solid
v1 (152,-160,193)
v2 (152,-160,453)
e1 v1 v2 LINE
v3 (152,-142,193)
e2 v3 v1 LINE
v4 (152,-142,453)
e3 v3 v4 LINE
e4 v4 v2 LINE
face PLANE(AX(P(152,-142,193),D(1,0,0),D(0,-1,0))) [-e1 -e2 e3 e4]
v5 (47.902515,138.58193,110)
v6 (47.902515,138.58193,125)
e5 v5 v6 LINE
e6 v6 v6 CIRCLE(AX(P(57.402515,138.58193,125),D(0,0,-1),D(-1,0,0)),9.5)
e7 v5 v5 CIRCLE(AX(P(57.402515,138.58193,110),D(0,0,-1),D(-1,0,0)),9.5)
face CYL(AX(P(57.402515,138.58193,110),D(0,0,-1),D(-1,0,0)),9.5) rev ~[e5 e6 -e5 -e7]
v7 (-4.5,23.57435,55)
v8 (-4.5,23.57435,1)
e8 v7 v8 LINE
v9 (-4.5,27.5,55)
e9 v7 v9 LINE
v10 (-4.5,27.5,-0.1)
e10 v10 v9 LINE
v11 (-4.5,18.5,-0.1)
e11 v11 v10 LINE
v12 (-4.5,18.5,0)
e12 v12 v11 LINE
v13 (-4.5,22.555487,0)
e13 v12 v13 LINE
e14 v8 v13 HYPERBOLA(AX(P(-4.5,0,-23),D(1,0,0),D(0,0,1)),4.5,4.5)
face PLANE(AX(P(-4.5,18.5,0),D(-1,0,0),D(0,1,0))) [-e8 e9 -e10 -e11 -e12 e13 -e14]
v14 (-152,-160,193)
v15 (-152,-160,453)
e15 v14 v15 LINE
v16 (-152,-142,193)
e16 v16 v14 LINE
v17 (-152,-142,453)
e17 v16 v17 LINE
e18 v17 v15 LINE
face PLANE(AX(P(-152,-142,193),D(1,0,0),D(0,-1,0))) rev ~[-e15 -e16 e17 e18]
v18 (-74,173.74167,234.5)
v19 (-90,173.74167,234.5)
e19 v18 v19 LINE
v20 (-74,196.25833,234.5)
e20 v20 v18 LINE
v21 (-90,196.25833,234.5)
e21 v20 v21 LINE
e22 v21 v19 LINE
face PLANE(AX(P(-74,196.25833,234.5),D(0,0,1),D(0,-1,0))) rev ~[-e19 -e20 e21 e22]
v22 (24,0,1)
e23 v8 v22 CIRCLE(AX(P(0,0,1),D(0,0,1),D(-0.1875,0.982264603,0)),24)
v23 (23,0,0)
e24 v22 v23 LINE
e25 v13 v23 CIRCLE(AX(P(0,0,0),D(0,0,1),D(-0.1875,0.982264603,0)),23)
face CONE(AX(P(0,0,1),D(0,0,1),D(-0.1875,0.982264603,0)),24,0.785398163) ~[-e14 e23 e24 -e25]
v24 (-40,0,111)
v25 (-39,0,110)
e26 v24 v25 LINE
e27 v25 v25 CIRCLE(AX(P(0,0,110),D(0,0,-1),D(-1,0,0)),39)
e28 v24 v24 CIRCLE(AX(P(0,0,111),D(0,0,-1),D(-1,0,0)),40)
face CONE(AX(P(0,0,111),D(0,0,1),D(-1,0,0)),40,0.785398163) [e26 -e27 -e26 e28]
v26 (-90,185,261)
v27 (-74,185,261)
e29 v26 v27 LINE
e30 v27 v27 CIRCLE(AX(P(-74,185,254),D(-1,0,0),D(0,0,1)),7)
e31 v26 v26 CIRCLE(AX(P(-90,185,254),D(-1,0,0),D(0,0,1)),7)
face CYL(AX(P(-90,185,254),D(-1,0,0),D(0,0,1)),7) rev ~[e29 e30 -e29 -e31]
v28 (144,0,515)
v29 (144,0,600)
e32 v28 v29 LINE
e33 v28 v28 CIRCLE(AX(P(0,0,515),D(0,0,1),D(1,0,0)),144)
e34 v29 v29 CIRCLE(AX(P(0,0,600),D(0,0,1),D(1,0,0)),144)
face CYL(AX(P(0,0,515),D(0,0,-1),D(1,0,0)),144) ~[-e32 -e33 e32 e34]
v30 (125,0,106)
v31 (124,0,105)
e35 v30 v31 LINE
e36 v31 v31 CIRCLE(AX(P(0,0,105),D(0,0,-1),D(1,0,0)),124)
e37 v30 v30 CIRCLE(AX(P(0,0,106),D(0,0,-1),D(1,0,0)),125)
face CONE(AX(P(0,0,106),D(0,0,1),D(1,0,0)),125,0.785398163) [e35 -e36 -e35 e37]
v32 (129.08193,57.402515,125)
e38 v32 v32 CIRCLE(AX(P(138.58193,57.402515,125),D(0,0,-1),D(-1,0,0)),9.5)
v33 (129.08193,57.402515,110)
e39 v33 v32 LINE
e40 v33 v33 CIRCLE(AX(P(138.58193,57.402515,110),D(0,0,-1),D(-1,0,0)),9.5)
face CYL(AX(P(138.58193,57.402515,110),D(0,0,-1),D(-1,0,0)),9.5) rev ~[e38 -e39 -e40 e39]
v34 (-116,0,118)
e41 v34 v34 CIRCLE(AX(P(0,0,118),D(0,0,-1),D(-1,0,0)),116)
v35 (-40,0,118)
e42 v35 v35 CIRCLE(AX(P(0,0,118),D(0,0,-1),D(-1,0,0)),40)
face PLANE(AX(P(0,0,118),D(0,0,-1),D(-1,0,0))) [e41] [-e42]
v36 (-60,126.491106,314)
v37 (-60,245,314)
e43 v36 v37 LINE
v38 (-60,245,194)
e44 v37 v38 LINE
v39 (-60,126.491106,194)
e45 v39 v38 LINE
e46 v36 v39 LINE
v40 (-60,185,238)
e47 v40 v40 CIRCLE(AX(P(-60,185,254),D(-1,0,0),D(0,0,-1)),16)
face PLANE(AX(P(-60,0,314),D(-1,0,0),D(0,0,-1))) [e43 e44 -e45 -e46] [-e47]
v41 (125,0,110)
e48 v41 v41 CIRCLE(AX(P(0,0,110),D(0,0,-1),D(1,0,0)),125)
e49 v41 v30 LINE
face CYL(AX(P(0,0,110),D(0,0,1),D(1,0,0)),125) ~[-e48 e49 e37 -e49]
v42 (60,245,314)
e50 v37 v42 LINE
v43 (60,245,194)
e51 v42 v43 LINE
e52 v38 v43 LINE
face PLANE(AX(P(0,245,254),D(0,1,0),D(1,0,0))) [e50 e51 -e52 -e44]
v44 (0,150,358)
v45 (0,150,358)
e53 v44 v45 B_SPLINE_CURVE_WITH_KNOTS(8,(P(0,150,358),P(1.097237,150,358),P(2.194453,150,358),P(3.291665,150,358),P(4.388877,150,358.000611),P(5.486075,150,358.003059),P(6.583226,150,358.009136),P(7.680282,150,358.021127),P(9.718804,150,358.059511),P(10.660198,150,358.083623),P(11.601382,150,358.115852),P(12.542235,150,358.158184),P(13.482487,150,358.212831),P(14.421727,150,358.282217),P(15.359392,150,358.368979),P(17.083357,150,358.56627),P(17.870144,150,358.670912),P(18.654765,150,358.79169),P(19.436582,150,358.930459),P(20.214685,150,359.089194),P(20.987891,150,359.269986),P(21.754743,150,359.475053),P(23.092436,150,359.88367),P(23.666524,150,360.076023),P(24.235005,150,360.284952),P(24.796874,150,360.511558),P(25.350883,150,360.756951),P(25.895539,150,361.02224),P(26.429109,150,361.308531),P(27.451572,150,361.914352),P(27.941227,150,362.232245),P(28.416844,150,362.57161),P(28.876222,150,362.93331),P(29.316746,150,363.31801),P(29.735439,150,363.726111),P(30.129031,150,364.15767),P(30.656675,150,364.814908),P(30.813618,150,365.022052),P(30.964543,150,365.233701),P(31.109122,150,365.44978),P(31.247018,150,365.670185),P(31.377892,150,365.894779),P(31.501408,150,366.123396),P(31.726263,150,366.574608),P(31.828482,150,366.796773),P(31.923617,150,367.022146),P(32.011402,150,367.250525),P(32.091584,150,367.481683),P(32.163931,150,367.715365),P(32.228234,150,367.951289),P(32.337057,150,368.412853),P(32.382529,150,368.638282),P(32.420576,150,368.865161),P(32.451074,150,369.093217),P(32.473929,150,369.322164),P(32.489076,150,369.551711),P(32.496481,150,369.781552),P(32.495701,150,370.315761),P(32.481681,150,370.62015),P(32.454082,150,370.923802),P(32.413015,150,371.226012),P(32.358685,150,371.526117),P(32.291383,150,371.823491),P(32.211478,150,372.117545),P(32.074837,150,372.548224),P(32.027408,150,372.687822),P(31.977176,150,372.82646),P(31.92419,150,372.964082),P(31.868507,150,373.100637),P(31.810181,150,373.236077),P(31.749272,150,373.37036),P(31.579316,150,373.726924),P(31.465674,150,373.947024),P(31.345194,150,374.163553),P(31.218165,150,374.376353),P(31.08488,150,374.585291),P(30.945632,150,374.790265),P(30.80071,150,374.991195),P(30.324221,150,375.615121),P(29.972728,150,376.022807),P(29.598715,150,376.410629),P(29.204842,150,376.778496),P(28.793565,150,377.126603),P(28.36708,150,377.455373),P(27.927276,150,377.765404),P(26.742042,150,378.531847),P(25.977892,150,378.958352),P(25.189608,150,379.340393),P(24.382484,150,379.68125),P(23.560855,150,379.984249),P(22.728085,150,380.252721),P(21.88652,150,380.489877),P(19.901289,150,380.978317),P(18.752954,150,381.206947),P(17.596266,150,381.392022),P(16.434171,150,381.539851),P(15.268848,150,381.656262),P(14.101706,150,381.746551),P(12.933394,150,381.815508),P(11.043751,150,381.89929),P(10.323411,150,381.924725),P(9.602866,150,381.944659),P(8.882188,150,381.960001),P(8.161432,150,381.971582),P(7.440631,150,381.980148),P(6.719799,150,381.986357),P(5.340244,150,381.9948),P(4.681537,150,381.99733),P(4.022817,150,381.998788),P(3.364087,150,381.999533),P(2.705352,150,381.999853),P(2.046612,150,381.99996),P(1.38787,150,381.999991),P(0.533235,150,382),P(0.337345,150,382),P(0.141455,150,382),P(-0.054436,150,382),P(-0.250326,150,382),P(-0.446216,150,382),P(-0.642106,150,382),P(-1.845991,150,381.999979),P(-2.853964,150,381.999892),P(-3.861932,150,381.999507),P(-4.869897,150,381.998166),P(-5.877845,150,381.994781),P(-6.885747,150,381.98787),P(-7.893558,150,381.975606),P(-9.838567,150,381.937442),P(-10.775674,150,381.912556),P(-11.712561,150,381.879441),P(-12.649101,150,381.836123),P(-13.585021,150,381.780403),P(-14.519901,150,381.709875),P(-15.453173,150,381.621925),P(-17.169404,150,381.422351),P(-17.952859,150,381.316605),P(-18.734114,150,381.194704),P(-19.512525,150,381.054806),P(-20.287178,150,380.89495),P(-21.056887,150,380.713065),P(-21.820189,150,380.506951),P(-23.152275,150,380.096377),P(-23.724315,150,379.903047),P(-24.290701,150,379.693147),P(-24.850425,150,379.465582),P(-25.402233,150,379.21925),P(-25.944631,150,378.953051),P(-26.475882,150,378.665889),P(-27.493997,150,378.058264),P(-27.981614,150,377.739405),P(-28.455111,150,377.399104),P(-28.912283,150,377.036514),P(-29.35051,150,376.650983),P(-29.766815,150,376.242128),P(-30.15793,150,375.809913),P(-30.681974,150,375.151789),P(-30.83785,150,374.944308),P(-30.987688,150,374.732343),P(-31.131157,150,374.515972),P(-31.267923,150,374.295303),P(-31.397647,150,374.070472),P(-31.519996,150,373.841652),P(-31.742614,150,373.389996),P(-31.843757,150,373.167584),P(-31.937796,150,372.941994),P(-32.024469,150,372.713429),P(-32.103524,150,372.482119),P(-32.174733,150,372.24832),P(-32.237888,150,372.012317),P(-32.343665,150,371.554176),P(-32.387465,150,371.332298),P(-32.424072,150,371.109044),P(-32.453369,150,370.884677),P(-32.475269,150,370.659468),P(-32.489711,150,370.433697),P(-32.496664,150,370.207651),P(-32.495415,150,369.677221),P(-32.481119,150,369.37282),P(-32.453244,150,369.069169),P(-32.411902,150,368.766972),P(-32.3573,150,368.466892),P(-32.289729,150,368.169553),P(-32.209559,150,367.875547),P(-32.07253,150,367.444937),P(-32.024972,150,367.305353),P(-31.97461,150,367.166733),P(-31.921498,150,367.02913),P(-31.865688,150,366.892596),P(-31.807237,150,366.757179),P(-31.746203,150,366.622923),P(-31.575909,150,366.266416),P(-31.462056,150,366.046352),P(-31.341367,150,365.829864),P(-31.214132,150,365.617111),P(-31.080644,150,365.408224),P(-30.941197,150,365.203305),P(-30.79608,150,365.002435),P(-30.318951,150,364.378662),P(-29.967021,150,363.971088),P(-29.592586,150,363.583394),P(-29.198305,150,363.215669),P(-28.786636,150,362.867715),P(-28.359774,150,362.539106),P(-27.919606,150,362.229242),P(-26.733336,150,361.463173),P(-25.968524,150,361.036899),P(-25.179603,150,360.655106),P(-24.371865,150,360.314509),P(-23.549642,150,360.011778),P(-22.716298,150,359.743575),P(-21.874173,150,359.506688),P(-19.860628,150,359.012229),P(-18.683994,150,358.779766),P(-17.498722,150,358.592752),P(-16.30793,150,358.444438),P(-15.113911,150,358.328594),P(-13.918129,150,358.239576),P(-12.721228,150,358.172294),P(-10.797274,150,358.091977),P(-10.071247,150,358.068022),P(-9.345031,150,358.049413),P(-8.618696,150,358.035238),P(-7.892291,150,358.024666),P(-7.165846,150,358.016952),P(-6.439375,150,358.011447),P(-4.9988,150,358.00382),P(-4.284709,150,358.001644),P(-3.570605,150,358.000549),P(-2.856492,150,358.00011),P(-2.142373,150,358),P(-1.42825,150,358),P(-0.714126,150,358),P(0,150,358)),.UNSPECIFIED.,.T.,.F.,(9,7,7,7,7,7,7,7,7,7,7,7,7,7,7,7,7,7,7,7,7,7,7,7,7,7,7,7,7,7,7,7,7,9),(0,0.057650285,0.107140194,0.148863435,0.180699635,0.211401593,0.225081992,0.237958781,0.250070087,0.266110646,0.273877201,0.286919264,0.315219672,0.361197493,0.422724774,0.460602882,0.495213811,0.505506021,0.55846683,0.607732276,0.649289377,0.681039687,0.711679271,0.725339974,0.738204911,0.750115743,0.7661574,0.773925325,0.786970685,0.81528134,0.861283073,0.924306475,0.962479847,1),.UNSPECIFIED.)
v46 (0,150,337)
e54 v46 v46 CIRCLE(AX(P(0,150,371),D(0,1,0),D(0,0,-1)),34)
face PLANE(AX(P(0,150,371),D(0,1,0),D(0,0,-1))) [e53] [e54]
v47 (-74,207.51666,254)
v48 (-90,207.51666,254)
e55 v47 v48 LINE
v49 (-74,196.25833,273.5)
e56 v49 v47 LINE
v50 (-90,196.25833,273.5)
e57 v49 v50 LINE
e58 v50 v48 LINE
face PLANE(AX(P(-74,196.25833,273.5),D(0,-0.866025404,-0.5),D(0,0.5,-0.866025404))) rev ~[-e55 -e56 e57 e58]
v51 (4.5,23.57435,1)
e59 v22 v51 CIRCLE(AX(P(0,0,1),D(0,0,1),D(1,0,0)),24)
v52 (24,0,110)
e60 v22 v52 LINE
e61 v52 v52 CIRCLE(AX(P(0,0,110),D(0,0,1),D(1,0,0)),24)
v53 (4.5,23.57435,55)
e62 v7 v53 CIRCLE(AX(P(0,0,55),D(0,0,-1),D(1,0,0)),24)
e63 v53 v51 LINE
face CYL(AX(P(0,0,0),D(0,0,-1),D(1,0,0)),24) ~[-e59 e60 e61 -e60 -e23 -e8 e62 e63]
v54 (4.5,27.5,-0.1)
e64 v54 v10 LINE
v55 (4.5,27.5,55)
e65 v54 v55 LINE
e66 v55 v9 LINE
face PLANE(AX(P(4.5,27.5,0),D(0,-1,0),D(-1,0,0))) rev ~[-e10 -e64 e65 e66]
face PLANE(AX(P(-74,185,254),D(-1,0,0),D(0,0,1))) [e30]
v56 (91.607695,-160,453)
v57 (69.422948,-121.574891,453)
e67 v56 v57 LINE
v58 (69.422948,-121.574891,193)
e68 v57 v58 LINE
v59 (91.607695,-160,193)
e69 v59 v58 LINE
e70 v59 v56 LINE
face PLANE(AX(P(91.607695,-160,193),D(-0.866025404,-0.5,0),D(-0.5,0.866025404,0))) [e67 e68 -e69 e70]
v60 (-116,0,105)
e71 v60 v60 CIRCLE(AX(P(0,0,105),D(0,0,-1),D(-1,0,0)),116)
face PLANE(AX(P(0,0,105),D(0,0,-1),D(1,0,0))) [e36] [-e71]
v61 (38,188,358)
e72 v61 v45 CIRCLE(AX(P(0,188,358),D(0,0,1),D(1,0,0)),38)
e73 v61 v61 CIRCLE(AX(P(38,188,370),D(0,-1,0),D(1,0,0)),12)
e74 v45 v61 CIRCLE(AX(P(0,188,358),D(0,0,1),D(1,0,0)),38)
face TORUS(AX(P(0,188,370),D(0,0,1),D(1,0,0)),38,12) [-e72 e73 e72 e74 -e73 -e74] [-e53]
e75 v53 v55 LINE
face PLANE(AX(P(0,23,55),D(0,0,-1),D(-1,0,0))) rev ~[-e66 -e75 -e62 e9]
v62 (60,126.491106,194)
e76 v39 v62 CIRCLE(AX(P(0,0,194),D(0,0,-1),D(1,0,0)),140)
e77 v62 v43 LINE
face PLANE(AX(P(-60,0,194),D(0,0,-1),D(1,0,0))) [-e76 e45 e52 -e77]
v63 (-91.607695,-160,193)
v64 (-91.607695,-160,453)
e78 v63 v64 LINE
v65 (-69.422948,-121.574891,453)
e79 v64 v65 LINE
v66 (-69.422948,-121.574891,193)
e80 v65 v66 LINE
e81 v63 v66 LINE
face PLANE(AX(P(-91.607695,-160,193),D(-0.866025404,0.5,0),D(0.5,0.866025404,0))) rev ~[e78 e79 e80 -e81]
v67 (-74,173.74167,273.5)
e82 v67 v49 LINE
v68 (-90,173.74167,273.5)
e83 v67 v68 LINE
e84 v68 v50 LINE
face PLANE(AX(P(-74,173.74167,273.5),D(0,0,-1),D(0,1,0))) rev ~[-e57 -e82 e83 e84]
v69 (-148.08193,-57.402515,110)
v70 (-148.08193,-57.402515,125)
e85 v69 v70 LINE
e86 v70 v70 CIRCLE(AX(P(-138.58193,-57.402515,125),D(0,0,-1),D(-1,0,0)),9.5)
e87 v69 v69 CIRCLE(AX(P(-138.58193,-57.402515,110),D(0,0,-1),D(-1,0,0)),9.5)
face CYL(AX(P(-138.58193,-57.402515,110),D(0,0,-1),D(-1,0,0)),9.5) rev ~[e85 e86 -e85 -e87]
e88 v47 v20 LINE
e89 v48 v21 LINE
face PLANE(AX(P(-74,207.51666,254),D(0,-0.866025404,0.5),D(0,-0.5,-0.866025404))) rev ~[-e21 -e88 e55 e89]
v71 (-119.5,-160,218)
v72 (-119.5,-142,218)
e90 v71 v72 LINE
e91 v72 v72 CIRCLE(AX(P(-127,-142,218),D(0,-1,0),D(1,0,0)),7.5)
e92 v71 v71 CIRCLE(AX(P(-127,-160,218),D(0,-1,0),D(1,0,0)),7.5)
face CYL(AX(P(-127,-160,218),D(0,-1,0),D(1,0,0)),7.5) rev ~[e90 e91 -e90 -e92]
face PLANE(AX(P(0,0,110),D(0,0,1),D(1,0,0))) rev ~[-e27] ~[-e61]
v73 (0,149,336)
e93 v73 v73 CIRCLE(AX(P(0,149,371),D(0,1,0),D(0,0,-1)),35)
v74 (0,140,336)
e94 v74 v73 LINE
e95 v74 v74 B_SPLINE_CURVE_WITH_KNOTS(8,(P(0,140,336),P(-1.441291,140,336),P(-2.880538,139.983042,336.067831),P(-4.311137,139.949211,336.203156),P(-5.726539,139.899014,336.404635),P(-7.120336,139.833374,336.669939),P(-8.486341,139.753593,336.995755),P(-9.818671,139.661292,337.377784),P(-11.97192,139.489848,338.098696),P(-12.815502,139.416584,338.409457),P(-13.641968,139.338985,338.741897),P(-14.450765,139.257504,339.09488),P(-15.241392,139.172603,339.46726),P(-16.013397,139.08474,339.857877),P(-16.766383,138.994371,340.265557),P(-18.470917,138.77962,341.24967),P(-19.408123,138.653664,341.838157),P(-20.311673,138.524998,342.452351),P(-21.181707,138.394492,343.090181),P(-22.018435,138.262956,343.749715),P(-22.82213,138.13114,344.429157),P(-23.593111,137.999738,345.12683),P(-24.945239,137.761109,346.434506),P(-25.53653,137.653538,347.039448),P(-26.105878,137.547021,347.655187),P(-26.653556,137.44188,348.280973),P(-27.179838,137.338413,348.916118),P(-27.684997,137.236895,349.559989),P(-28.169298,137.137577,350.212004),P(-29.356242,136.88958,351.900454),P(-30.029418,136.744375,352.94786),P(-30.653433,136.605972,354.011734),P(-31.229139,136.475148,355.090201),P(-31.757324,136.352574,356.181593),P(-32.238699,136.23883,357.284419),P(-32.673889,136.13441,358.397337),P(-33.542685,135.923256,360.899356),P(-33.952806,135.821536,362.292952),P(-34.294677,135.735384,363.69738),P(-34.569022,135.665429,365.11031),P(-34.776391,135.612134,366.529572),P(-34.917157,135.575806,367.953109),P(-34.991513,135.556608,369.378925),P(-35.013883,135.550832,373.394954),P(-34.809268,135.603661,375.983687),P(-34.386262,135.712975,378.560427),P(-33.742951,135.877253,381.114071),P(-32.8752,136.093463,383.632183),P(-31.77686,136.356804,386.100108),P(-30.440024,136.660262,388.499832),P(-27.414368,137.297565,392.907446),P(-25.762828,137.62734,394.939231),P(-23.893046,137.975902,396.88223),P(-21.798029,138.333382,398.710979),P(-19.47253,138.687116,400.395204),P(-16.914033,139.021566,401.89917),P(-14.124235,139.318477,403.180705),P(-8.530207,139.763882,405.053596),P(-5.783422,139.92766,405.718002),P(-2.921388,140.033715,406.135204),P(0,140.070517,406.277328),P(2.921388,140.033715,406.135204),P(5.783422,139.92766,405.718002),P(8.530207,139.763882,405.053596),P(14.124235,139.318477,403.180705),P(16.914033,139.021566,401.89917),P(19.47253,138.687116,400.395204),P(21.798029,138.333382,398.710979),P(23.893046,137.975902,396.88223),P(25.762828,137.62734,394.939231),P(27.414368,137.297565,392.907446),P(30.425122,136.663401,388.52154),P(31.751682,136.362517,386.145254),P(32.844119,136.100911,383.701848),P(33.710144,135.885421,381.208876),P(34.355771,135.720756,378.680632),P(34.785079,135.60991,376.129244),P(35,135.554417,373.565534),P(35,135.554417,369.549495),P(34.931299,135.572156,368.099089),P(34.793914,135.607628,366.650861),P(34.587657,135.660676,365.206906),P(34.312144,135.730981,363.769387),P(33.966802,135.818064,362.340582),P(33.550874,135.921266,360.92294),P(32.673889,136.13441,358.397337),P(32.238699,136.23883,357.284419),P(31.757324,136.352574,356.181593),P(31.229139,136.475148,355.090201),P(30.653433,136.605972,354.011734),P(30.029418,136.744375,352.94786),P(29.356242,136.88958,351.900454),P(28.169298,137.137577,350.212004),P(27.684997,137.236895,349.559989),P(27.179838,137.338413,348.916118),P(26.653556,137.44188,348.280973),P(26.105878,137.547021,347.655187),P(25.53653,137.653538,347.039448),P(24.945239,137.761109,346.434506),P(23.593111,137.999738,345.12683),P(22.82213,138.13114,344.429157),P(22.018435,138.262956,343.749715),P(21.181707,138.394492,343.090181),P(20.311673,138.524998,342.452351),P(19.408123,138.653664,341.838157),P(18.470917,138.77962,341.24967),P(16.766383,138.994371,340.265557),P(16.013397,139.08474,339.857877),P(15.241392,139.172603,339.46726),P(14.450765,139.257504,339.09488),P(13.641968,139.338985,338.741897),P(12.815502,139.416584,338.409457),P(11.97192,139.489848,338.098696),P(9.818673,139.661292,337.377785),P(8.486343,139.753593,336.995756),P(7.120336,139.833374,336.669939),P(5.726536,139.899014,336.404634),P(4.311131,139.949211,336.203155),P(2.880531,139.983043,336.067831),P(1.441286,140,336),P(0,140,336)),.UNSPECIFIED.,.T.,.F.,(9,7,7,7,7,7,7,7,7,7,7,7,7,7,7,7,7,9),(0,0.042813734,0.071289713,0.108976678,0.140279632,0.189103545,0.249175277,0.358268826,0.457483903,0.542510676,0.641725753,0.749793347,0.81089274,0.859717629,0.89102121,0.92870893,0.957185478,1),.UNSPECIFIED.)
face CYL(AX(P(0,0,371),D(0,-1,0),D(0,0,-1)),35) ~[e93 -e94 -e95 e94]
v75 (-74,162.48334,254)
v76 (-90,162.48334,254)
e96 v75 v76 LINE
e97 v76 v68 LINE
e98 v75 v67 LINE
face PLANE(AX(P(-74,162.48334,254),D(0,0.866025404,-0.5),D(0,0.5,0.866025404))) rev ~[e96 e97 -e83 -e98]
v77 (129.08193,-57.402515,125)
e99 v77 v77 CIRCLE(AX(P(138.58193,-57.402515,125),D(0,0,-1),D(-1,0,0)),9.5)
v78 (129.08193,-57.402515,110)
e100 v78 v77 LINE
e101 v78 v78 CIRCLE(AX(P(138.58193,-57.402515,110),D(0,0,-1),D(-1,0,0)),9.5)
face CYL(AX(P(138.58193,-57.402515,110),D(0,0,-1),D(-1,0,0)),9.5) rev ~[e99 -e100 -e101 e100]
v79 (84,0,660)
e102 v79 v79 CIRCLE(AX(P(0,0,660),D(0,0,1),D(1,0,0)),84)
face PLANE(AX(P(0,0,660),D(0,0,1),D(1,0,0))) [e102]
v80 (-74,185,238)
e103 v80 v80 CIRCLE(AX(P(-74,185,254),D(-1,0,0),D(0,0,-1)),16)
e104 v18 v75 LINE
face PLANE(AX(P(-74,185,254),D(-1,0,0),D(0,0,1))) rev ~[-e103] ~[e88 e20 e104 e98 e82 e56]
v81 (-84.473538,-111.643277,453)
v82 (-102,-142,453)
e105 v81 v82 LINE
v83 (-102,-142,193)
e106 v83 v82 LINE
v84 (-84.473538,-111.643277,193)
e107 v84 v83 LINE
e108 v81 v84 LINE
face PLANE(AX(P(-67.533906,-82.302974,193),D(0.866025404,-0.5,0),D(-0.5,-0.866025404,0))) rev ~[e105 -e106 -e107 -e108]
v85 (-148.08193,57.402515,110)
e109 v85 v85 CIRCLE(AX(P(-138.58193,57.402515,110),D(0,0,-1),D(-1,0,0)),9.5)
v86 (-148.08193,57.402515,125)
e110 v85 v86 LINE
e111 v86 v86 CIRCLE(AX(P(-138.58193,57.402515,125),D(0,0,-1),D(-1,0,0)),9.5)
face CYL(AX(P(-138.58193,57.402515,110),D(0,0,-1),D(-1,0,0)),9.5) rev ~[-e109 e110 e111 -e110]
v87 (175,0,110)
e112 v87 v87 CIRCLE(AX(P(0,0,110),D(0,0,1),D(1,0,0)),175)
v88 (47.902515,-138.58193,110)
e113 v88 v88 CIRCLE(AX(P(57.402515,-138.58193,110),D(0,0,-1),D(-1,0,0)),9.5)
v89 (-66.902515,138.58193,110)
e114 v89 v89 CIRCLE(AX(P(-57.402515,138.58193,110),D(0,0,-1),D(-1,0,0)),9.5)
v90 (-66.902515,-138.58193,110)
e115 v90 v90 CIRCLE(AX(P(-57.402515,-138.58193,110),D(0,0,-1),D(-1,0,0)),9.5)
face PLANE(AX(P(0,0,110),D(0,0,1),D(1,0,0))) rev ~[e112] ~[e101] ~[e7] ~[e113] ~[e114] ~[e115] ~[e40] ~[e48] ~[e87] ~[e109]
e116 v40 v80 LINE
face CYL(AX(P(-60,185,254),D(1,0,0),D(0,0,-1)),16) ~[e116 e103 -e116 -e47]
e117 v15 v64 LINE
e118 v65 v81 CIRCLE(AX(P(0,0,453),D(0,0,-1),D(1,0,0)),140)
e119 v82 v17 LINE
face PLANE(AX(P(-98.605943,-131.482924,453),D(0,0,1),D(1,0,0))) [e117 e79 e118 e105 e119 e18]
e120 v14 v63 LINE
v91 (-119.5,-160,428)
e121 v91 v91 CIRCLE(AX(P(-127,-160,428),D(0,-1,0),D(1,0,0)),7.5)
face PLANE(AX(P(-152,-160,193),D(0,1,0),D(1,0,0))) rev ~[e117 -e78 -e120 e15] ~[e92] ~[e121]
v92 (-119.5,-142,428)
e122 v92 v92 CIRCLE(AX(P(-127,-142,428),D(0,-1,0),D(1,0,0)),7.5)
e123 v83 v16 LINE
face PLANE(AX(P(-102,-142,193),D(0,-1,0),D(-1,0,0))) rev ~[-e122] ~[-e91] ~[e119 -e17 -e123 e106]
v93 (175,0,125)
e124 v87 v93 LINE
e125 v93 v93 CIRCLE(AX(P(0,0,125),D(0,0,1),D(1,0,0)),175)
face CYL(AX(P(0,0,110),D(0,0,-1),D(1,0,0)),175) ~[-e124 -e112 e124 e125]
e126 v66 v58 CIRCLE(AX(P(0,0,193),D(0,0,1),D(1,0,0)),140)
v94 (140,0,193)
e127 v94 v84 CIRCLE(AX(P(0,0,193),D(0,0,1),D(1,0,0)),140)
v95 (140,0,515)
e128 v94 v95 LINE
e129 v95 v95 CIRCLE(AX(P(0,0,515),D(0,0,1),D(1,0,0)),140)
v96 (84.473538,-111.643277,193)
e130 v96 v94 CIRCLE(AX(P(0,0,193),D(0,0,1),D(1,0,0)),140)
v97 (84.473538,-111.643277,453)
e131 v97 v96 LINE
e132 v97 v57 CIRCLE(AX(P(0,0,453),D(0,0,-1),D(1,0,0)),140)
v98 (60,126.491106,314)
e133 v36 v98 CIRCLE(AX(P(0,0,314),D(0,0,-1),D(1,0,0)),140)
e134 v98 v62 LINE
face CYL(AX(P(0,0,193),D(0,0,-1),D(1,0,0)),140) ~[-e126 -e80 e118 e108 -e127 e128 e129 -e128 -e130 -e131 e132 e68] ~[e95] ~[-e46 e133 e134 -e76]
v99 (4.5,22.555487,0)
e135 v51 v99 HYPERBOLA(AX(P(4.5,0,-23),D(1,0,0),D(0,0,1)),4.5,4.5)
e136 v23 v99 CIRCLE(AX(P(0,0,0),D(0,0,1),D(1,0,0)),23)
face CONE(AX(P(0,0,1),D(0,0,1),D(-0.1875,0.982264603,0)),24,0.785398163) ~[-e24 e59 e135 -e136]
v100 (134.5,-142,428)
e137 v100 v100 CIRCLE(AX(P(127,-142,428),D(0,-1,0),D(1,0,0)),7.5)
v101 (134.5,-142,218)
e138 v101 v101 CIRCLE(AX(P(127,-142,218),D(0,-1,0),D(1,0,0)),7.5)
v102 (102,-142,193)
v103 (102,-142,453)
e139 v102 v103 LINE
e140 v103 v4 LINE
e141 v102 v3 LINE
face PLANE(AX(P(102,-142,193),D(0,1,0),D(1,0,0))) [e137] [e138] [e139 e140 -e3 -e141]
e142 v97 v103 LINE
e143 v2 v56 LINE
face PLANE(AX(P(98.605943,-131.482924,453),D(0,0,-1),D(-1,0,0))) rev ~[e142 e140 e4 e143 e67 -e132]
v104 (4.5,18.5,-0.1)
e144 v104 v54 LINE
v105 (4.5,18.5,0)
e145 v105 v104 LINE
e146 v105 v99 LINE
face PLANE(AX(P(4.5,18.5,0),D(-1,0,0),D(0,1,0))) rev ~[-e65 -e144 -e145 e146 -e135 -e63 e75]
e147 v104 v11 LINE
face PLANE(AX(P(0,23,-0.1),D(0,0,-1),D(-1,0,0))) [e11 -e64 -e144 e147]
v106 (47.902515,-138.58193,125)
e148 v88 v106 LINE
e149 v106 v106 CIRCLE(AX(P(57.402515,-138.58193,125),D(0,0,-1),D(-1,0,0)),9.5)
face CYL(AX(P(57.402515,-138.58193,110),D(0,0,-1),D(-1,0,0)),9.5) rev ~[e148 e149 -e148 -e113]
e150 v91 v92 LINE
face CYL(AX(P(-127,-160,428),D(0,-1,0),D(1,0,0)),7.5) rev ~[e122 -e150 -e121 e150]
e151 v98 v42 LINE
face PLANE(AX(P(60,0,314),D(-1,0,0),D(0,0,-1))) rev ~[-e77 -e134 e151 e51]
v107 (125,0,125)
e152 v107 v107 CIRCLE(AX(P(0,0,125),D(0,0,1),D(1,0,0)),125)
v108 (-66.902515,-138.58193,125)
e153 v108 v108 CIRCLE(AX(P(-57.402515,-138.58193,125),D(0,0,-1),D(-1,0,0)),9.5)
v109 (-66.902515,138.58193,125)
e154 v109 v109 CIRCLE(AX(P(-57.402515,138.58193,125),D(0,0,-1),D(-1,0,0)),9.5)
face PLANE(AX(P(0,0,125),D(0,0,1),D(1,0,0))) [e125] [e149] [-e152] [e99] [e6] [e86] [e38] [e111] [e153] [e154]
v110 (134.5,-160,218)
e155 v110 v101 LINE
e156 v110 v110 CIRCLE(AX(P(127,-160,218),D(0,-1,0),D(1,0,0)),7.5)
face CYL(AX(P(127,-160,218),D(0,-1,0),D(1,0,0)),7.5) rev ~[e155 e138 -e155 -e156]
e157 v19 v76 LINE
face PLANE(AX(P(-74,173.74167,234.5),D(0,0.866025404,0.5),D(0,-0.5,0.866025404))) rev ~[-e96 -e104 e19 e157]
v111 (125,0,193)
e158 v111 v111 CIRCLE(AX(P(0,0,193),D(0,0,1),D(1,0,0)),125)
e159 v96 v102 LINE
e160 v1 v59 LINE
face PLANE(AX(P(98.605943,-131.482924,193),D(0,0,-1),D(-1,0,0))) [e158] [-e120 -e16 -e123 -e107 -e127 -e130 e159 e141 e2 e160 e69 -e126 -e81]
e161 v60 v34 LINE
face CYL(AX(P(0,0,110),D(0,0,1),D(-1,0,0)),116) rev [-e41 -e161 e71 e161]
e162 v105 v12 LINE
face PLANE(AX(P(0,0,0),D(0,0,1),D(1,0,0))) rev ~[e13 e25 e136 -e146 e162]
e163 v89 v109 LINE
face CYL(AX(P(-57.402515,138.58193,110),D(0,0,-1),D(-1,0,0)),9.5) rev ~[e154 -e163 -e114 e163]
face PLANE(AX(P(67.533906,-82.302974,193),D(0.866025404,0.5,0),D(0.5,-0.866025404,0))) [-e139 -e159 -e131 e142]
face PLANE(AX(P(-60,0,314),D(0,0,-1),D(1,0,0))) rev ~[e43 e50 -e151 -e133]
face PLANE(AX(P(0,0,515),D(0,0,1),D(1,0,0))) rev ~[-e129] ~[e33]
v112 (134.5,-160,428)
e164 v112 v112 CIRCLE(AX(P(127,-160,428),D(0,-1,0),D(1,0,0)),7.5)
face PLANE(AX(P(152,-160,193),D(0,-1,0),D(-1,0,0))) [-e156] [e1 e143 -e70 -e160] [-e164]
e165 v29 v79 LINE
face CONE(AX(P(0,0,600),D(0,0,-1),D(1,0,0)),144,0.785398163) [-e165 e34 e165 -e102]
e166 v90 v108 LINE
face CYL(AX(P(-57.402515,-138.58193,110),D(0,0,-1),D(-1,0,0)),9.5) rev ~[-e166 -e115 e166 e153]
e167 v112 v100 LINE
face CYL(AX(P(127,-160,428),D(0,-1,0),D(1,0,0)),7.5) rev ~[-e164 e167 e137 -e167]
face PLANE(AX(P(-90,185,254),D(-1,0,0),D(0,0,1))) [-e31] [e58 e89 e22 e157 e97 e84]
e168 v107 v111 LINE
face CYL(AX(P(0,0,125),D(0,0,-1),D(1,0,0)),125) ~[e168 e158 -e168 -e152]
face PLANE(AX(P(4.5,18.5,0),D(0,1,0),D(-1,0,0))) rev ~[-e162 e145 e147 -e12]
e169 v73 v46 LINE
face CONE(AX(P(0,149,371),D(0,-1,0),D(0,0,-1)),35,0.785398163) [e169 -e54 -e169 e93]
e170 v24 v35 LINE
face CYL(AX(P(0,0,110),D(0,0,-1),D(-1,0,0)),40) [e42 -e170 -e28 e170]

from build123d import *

# Parameters (mm, degrees)
SKETCH_1_R           = 24
EXTRUDE_1_DEPTH      = 110
SKETCH_2_W           = 9
SKETCH_2_H           = 9
EXTRUDE_2_DEPTH      = 0.1
EXTRUDE_2_DEPTH_BACK = 55
SKETCH_3_R           = 175
EXTRUDE_3_DEPTH      = 15
SKETCH_4_R           = 125
SKETCH_4_R_2         = 116
EXTRUDE_4_DEPTH      = 5
SKETCH_5_R           = 116
SKETCH_5_R_2         = 40
CUT_EXTRUDE_1_DEPTH  = 8
CHAMFER_1_SIZE       = 1
SKETCH_6_R           = 9.5
CUT_EXTRUDE_2_DEPTH  = 16
SKETCH_7_R           = 125
EXTRUDE_5_DEPTH      = 68
SKETCH_8_R           = 140
EXTRUDE_6_DEPTH      = 322
SKETCH_9_R           = 144
EXTRUDE_7_DEPTH      = 145
CHAMFER_2_SIZE       = 60
EXTRUDE_8_DEPTH      = 260
CUT_EXTRUDE_3_REACH  = 337
SKETCH_11_R          = 7.5
SKETCH_12_W          = 120
SKETCH_12_H          = 120
EXTRUDE_9_DEPTH      = 245
SKETCH_13_R          = 35
EXTRUDE_10_DEPTH     = 150
CHAMFER_3_SIZE       = 1
SKETCH_15_R          = 12
SKETCH_16_R          = 16
EXTRUDE_11_DEPTH     = 14
EXTRUDE_12_DEPTH     = 16
SKETCH_18_R          = 7
CUT_EXTRUDE_4_DEPTH  = 16


with BuildPart() as part:
    # Эскиз1 → Вытянуть1 (new body)
    with BuildSketch(Plane.XY):
        Circle(SKETCH_1_R)
    extrude(amount=EXTRUDE_1_DEPTH)

    # Эскиз2 → Вытянуть2 (add, two sides)
    with BuildSketch(Plane(origin=(0, 0, 0), x_dir=(-1, 0, 0), z_dir=(0, 0, -1))) as extrude_2_sk:
        with Locations((0, 23)):
            Rectangle(SKETCH_2_W, SKETCH_2_H)
    extrude(amount=EXTRUDE_2_DEPTH)
    extrude(extrude_2_sk.sketch, amount=-EXTRUDE_2_DEPTH_BACK)

    # Эскиз3 → Вытянуть3 (add)
    with BuildSketch(Plane.XY.offset(110)):
        Circle(SKETCH_3_R)
    extrude(amount=EXTRUDE_3_DEPTH)

    # Эскиз4 → Вытянуть4 (add)
    with BuildSketch(Plane(origin=(0, 0, 110), x_dir=(-1, 0, 0), z_dir=(0, 0, -1))):
        with Locations(Location((0, 0, 0), (0, 0, 180))):  # turned: the seam where the file's is
            Circle(SKETCH_4_R)
        Circle(SKETCH_4_R_2, mode=Mode.SUBTRACT)
    extrude(amount=EXTRUDE_4_DEPTH)

    # Эскиз5 → Вырез-Вытянуть1 (cut)
    with BuildSketch(Plane(origin=(0, 0, 110), x_dir=(-1, 0, 0), z_dir=(0, 0, -1))):
        Circle(SKETCH_5_R)
        Circle(SKETCH_5_R_2, mode=Mode.SUBTRACT)
    extrude(amount=-CUT_EXTRUDE_1_DEPTH, mode=Mode.SUBTRACT)

    # Фаска1
    chamfer_1_edges = [part.edges().sort_by_distance(p)[0] for p in [
        (-125, 0, 105),
        (40, 0, 110),
        (-15.297058541, -18.493242009, 0),
    ]]
    chamfer(chamfer_1_edges, length=CHAMFER_1_SIZE)

    # Эскиз6 → Вырез-Вытянуть2 (cut, through all)
    with BuildSketch(Plane(origin=(0, 0, 110), x_dir=(-1, 0, 0), z_dir=(0, 0, -1))):
        with Locations((-57.402514855, 138.581929877)):
            Circle(SKETCH_6_R)
        with Locations((57.402514855, 138.581929877)):
            Circle(SKETCH_6_R)
        with Locations((138.581929877, 57.402514855)):
            Circle(SKETCH_6_R)
        with Locations((138.581929877, -57.402514855)):
            Circle(SKETCH_6_R)
        with Locations((57.402514855, -138.581929877)):
            Circle(SKETCH_6_R)
        with Locations((-57.402514855, -138.581929877)):
            Circle(SKETCH_6_R)
        with Locations((-138.581929877, -57.402514855)):
            Circle(SKETCH_6_R)
        with Locations((-138.581929877, 57.402514855)):
            Circle(SKETCH_6_R)
    extrude(amount=-CUT_EXTRUDE_2_DEPTH, mode=Mode.SUBTRACT)

    # Эскиз7 → Вытянуть5 (add)
    with BuildSketch(Plane.XY.offset(125)):
        Circle(SKETCH_7_R)
    extrude(amount=EXTRUDE_5_DEPTH)

    # Эскиз8 → Вытянуть6 (add)
    with BuildSketch(Plane.XY.offset(193)):
        Circle(SKETCH_8_R)
    extrude(amount=EXTRUDE_6_DEPTH)

    # Эскиз9 → Вытянуть7 (add)
    with BuildSketch(Plane.XY.offset(515)):
        Circle(SKETCH_9_R)
    extrude(amount=EXTRUDE_7_DEPTH)

    # Фаска2
    chamfer_2_edges = [part.edges().sort_by_distance(p)[0] for p in [
        (-144, 0, 660),
    ]]
    chamfer(chamfer_2_edges, length=CHAMFER_2_SIZE)

    # Эскиз10 → Вытянуть8 (add)
    with BuildSketch(Plane(origin=(0, 0, 193), x_dir=(-1, 0, 0), z_dir=(0, 0, -1))):
        Polygon((-152, -160), (-91.607695155, -160), (-51.945448858, -91.302974272), (-67.533906126, -82.302974272), (-102, -142), (-152, -142), align=None)
        Polygon((91.607695155, -160), (51.945448858, -91.302974272), (67.533906126, -82.302974272), (102, -142), (152, -142), (152, -160), align=None)
    extrude(amount=-EXTRUDE_8_DEPTH)

    # Эскиз11 → Вырез-Вытянуть3 (cut, up to next)
    with BuildSketch(Plane.XZ.offset(160), mode=Mode.PRIVATE) as cut_extrude_3_sk1:
        with Locations((-127, 218)):
            Circle(SKETCH_11_R)
    cut_extrude_3_tool1 = extrude(cut_extrude_3_sk1.sketch, amount=-CUT_EXTRUDE_3_REACH, mode=Mode.PRIVATE) & part.part
    add(cut_extrude_3_tool1.solids().sort_by_distance((-127, -160, 218))[0], mode=Mode.SUBTRACT)
    # Эскиз11 → Вырез-Вытянуть3 (cut, up to next)
    with BuildSketch(Plane.XZ.offset(160), mode=Mode.PRIVATE) as cut_extrude_3_sk2:
        with Locations((127, 218)):
            Circle(SKETCH_11_R)
    cut_extrude_3_tool2 = extrude(cut_extrude_3_sk2.sketch, amount=-CUT_EXTRUDE_3_REACH, mode=Mode.PRIVATE) & part.part
    add(cut_extrude_3_tool2.solids().sort_by_distance((127, -160, 218))[0], mode=Mode.SUBTRACT)
    # Эскиз11 → Вырез-Вытянуть3 (cut, up to next)
    with BuildSketch(Plane.XZ.offset(160), mode=Mode.PRIVATE) as cut_extrude_3_sk3:
        with Locations((-127, 428)):
            Circle(SKETCH_11_R)
    cut_extrude_3_tool3 = extrude(cut_extrude_3_sk3.sketch, amount=-CUT_EXTRUDE_3_REACH, mode=Mode.PRIVATE) & part.part
    add(cut_extrude_3_tool3.solids().sort_by_distance((-127, -160, 428))[0], mode=Mode.SUBTRACT)
    # Эскиз11 → Вырез-Вытянуть3 (cut, up to next)
    with BuildSketch(Plane.XZ.offset(160), mode=Mode.PRIVATE) as cut_extrude_3_sk4:
        with Locations((127, 428)):
            Circle(SKETCH_11_R)
    cut_extrude_3_tool4 = extrude(cut_extrude_3_sk4.sketch, amount=-CUT_EXTRUDE_3_REACH, mode=Mode.PRIVATE) & part.part
    add(cut_extrude_3_tool4.solids().sort_by_distance((127, -160, 428))[0], mode=Mode.SUBTRACT)

    # Эскиз12 → Вытянуть9 (add)
    with BuildSketch(Plane(origin=(0, 0, 0), x_dir=(1, 0, 0), z_dir=(0, 1, 0))):
        with Locations((0, -254)):
            Rectangle(SKETCH_12_W, SKETCH_12_H)
    extrude(amount=EXTRUDE_9_DEPTH)

    # Эскиз13 → Вытянуть10 (add)
    with BuildSketch(Plane(origin=(0, 0, 0), x_dir=(1, 0, 0), z_dir=(0, 1, 0))):
        with Locations(Location((0, -371, 0), (0, 0, 90))):  # turned: the seam where the file's is
            Circle(SKETCH_13_R)
    extrude(amount=EXTRUDE_10_DEPTH)

    # Фаска3
    chamfer_3_edges = [part.edges().sort_by_distance(p)[0] for p in [
        (0, 150, 406),
    ]]
    chamfer(chamfer_3_edges, length=CHAMFER_3_SIZE)

    # По траектории1: sweep along a path in Эскиз14
    with BuildLine(Plane.XY.offset(370)) as sweep_1_path:
        CenterArc((0, 188), 38, 0, 360)
    # Эскиз15 → По траектории1 (sweep)
    with BuildSketch(Plane(origin=(0, 0, 0), x_dir=(0, 0, -1), z_dir=(1, 0, 0))):
        with Locations((-370, 226)):
            Circle(SKETCH_15_R)
    sweep(path=sweep_1_path.line)

    # Эскиз16 → Вытянуть11 (add)
    with BuildSketch(Plane.ZY.offset(60)):
        with Locations(Location((254, 185, 0), (0, 0, 180))):  # turned: the seam where the file's is
            Circle(SKETCH_16_R)
    extrude(amount=EXTRUDE_11_DEPTH)

    # Эскиз17 → Вытянуть12 (add)
    with BuildSketch(Plane.ZY.offset(74)):
        Polygon((254, 207.516660498), (234.5, 196.258330249), (234.5, 173.741669751), (254, 162.483339502), (273.5, 173.741669751), (273.5, 196.258330249), align=None)
    extrude(amount=EXTRUDE_12_DEPTH)

    # Эскиз18 → Вырез-Вытянуть4 (cut)
    with BuildSketch(Plane.ZY.offset(90)):
        with Locations((254, 185)):
            Circle(SKETCH_18_R)
    extrude(amount=-CUT_EXTRUDE_4_DEPTH, mode=Mode.SUBTRACT)


solid = part.part
